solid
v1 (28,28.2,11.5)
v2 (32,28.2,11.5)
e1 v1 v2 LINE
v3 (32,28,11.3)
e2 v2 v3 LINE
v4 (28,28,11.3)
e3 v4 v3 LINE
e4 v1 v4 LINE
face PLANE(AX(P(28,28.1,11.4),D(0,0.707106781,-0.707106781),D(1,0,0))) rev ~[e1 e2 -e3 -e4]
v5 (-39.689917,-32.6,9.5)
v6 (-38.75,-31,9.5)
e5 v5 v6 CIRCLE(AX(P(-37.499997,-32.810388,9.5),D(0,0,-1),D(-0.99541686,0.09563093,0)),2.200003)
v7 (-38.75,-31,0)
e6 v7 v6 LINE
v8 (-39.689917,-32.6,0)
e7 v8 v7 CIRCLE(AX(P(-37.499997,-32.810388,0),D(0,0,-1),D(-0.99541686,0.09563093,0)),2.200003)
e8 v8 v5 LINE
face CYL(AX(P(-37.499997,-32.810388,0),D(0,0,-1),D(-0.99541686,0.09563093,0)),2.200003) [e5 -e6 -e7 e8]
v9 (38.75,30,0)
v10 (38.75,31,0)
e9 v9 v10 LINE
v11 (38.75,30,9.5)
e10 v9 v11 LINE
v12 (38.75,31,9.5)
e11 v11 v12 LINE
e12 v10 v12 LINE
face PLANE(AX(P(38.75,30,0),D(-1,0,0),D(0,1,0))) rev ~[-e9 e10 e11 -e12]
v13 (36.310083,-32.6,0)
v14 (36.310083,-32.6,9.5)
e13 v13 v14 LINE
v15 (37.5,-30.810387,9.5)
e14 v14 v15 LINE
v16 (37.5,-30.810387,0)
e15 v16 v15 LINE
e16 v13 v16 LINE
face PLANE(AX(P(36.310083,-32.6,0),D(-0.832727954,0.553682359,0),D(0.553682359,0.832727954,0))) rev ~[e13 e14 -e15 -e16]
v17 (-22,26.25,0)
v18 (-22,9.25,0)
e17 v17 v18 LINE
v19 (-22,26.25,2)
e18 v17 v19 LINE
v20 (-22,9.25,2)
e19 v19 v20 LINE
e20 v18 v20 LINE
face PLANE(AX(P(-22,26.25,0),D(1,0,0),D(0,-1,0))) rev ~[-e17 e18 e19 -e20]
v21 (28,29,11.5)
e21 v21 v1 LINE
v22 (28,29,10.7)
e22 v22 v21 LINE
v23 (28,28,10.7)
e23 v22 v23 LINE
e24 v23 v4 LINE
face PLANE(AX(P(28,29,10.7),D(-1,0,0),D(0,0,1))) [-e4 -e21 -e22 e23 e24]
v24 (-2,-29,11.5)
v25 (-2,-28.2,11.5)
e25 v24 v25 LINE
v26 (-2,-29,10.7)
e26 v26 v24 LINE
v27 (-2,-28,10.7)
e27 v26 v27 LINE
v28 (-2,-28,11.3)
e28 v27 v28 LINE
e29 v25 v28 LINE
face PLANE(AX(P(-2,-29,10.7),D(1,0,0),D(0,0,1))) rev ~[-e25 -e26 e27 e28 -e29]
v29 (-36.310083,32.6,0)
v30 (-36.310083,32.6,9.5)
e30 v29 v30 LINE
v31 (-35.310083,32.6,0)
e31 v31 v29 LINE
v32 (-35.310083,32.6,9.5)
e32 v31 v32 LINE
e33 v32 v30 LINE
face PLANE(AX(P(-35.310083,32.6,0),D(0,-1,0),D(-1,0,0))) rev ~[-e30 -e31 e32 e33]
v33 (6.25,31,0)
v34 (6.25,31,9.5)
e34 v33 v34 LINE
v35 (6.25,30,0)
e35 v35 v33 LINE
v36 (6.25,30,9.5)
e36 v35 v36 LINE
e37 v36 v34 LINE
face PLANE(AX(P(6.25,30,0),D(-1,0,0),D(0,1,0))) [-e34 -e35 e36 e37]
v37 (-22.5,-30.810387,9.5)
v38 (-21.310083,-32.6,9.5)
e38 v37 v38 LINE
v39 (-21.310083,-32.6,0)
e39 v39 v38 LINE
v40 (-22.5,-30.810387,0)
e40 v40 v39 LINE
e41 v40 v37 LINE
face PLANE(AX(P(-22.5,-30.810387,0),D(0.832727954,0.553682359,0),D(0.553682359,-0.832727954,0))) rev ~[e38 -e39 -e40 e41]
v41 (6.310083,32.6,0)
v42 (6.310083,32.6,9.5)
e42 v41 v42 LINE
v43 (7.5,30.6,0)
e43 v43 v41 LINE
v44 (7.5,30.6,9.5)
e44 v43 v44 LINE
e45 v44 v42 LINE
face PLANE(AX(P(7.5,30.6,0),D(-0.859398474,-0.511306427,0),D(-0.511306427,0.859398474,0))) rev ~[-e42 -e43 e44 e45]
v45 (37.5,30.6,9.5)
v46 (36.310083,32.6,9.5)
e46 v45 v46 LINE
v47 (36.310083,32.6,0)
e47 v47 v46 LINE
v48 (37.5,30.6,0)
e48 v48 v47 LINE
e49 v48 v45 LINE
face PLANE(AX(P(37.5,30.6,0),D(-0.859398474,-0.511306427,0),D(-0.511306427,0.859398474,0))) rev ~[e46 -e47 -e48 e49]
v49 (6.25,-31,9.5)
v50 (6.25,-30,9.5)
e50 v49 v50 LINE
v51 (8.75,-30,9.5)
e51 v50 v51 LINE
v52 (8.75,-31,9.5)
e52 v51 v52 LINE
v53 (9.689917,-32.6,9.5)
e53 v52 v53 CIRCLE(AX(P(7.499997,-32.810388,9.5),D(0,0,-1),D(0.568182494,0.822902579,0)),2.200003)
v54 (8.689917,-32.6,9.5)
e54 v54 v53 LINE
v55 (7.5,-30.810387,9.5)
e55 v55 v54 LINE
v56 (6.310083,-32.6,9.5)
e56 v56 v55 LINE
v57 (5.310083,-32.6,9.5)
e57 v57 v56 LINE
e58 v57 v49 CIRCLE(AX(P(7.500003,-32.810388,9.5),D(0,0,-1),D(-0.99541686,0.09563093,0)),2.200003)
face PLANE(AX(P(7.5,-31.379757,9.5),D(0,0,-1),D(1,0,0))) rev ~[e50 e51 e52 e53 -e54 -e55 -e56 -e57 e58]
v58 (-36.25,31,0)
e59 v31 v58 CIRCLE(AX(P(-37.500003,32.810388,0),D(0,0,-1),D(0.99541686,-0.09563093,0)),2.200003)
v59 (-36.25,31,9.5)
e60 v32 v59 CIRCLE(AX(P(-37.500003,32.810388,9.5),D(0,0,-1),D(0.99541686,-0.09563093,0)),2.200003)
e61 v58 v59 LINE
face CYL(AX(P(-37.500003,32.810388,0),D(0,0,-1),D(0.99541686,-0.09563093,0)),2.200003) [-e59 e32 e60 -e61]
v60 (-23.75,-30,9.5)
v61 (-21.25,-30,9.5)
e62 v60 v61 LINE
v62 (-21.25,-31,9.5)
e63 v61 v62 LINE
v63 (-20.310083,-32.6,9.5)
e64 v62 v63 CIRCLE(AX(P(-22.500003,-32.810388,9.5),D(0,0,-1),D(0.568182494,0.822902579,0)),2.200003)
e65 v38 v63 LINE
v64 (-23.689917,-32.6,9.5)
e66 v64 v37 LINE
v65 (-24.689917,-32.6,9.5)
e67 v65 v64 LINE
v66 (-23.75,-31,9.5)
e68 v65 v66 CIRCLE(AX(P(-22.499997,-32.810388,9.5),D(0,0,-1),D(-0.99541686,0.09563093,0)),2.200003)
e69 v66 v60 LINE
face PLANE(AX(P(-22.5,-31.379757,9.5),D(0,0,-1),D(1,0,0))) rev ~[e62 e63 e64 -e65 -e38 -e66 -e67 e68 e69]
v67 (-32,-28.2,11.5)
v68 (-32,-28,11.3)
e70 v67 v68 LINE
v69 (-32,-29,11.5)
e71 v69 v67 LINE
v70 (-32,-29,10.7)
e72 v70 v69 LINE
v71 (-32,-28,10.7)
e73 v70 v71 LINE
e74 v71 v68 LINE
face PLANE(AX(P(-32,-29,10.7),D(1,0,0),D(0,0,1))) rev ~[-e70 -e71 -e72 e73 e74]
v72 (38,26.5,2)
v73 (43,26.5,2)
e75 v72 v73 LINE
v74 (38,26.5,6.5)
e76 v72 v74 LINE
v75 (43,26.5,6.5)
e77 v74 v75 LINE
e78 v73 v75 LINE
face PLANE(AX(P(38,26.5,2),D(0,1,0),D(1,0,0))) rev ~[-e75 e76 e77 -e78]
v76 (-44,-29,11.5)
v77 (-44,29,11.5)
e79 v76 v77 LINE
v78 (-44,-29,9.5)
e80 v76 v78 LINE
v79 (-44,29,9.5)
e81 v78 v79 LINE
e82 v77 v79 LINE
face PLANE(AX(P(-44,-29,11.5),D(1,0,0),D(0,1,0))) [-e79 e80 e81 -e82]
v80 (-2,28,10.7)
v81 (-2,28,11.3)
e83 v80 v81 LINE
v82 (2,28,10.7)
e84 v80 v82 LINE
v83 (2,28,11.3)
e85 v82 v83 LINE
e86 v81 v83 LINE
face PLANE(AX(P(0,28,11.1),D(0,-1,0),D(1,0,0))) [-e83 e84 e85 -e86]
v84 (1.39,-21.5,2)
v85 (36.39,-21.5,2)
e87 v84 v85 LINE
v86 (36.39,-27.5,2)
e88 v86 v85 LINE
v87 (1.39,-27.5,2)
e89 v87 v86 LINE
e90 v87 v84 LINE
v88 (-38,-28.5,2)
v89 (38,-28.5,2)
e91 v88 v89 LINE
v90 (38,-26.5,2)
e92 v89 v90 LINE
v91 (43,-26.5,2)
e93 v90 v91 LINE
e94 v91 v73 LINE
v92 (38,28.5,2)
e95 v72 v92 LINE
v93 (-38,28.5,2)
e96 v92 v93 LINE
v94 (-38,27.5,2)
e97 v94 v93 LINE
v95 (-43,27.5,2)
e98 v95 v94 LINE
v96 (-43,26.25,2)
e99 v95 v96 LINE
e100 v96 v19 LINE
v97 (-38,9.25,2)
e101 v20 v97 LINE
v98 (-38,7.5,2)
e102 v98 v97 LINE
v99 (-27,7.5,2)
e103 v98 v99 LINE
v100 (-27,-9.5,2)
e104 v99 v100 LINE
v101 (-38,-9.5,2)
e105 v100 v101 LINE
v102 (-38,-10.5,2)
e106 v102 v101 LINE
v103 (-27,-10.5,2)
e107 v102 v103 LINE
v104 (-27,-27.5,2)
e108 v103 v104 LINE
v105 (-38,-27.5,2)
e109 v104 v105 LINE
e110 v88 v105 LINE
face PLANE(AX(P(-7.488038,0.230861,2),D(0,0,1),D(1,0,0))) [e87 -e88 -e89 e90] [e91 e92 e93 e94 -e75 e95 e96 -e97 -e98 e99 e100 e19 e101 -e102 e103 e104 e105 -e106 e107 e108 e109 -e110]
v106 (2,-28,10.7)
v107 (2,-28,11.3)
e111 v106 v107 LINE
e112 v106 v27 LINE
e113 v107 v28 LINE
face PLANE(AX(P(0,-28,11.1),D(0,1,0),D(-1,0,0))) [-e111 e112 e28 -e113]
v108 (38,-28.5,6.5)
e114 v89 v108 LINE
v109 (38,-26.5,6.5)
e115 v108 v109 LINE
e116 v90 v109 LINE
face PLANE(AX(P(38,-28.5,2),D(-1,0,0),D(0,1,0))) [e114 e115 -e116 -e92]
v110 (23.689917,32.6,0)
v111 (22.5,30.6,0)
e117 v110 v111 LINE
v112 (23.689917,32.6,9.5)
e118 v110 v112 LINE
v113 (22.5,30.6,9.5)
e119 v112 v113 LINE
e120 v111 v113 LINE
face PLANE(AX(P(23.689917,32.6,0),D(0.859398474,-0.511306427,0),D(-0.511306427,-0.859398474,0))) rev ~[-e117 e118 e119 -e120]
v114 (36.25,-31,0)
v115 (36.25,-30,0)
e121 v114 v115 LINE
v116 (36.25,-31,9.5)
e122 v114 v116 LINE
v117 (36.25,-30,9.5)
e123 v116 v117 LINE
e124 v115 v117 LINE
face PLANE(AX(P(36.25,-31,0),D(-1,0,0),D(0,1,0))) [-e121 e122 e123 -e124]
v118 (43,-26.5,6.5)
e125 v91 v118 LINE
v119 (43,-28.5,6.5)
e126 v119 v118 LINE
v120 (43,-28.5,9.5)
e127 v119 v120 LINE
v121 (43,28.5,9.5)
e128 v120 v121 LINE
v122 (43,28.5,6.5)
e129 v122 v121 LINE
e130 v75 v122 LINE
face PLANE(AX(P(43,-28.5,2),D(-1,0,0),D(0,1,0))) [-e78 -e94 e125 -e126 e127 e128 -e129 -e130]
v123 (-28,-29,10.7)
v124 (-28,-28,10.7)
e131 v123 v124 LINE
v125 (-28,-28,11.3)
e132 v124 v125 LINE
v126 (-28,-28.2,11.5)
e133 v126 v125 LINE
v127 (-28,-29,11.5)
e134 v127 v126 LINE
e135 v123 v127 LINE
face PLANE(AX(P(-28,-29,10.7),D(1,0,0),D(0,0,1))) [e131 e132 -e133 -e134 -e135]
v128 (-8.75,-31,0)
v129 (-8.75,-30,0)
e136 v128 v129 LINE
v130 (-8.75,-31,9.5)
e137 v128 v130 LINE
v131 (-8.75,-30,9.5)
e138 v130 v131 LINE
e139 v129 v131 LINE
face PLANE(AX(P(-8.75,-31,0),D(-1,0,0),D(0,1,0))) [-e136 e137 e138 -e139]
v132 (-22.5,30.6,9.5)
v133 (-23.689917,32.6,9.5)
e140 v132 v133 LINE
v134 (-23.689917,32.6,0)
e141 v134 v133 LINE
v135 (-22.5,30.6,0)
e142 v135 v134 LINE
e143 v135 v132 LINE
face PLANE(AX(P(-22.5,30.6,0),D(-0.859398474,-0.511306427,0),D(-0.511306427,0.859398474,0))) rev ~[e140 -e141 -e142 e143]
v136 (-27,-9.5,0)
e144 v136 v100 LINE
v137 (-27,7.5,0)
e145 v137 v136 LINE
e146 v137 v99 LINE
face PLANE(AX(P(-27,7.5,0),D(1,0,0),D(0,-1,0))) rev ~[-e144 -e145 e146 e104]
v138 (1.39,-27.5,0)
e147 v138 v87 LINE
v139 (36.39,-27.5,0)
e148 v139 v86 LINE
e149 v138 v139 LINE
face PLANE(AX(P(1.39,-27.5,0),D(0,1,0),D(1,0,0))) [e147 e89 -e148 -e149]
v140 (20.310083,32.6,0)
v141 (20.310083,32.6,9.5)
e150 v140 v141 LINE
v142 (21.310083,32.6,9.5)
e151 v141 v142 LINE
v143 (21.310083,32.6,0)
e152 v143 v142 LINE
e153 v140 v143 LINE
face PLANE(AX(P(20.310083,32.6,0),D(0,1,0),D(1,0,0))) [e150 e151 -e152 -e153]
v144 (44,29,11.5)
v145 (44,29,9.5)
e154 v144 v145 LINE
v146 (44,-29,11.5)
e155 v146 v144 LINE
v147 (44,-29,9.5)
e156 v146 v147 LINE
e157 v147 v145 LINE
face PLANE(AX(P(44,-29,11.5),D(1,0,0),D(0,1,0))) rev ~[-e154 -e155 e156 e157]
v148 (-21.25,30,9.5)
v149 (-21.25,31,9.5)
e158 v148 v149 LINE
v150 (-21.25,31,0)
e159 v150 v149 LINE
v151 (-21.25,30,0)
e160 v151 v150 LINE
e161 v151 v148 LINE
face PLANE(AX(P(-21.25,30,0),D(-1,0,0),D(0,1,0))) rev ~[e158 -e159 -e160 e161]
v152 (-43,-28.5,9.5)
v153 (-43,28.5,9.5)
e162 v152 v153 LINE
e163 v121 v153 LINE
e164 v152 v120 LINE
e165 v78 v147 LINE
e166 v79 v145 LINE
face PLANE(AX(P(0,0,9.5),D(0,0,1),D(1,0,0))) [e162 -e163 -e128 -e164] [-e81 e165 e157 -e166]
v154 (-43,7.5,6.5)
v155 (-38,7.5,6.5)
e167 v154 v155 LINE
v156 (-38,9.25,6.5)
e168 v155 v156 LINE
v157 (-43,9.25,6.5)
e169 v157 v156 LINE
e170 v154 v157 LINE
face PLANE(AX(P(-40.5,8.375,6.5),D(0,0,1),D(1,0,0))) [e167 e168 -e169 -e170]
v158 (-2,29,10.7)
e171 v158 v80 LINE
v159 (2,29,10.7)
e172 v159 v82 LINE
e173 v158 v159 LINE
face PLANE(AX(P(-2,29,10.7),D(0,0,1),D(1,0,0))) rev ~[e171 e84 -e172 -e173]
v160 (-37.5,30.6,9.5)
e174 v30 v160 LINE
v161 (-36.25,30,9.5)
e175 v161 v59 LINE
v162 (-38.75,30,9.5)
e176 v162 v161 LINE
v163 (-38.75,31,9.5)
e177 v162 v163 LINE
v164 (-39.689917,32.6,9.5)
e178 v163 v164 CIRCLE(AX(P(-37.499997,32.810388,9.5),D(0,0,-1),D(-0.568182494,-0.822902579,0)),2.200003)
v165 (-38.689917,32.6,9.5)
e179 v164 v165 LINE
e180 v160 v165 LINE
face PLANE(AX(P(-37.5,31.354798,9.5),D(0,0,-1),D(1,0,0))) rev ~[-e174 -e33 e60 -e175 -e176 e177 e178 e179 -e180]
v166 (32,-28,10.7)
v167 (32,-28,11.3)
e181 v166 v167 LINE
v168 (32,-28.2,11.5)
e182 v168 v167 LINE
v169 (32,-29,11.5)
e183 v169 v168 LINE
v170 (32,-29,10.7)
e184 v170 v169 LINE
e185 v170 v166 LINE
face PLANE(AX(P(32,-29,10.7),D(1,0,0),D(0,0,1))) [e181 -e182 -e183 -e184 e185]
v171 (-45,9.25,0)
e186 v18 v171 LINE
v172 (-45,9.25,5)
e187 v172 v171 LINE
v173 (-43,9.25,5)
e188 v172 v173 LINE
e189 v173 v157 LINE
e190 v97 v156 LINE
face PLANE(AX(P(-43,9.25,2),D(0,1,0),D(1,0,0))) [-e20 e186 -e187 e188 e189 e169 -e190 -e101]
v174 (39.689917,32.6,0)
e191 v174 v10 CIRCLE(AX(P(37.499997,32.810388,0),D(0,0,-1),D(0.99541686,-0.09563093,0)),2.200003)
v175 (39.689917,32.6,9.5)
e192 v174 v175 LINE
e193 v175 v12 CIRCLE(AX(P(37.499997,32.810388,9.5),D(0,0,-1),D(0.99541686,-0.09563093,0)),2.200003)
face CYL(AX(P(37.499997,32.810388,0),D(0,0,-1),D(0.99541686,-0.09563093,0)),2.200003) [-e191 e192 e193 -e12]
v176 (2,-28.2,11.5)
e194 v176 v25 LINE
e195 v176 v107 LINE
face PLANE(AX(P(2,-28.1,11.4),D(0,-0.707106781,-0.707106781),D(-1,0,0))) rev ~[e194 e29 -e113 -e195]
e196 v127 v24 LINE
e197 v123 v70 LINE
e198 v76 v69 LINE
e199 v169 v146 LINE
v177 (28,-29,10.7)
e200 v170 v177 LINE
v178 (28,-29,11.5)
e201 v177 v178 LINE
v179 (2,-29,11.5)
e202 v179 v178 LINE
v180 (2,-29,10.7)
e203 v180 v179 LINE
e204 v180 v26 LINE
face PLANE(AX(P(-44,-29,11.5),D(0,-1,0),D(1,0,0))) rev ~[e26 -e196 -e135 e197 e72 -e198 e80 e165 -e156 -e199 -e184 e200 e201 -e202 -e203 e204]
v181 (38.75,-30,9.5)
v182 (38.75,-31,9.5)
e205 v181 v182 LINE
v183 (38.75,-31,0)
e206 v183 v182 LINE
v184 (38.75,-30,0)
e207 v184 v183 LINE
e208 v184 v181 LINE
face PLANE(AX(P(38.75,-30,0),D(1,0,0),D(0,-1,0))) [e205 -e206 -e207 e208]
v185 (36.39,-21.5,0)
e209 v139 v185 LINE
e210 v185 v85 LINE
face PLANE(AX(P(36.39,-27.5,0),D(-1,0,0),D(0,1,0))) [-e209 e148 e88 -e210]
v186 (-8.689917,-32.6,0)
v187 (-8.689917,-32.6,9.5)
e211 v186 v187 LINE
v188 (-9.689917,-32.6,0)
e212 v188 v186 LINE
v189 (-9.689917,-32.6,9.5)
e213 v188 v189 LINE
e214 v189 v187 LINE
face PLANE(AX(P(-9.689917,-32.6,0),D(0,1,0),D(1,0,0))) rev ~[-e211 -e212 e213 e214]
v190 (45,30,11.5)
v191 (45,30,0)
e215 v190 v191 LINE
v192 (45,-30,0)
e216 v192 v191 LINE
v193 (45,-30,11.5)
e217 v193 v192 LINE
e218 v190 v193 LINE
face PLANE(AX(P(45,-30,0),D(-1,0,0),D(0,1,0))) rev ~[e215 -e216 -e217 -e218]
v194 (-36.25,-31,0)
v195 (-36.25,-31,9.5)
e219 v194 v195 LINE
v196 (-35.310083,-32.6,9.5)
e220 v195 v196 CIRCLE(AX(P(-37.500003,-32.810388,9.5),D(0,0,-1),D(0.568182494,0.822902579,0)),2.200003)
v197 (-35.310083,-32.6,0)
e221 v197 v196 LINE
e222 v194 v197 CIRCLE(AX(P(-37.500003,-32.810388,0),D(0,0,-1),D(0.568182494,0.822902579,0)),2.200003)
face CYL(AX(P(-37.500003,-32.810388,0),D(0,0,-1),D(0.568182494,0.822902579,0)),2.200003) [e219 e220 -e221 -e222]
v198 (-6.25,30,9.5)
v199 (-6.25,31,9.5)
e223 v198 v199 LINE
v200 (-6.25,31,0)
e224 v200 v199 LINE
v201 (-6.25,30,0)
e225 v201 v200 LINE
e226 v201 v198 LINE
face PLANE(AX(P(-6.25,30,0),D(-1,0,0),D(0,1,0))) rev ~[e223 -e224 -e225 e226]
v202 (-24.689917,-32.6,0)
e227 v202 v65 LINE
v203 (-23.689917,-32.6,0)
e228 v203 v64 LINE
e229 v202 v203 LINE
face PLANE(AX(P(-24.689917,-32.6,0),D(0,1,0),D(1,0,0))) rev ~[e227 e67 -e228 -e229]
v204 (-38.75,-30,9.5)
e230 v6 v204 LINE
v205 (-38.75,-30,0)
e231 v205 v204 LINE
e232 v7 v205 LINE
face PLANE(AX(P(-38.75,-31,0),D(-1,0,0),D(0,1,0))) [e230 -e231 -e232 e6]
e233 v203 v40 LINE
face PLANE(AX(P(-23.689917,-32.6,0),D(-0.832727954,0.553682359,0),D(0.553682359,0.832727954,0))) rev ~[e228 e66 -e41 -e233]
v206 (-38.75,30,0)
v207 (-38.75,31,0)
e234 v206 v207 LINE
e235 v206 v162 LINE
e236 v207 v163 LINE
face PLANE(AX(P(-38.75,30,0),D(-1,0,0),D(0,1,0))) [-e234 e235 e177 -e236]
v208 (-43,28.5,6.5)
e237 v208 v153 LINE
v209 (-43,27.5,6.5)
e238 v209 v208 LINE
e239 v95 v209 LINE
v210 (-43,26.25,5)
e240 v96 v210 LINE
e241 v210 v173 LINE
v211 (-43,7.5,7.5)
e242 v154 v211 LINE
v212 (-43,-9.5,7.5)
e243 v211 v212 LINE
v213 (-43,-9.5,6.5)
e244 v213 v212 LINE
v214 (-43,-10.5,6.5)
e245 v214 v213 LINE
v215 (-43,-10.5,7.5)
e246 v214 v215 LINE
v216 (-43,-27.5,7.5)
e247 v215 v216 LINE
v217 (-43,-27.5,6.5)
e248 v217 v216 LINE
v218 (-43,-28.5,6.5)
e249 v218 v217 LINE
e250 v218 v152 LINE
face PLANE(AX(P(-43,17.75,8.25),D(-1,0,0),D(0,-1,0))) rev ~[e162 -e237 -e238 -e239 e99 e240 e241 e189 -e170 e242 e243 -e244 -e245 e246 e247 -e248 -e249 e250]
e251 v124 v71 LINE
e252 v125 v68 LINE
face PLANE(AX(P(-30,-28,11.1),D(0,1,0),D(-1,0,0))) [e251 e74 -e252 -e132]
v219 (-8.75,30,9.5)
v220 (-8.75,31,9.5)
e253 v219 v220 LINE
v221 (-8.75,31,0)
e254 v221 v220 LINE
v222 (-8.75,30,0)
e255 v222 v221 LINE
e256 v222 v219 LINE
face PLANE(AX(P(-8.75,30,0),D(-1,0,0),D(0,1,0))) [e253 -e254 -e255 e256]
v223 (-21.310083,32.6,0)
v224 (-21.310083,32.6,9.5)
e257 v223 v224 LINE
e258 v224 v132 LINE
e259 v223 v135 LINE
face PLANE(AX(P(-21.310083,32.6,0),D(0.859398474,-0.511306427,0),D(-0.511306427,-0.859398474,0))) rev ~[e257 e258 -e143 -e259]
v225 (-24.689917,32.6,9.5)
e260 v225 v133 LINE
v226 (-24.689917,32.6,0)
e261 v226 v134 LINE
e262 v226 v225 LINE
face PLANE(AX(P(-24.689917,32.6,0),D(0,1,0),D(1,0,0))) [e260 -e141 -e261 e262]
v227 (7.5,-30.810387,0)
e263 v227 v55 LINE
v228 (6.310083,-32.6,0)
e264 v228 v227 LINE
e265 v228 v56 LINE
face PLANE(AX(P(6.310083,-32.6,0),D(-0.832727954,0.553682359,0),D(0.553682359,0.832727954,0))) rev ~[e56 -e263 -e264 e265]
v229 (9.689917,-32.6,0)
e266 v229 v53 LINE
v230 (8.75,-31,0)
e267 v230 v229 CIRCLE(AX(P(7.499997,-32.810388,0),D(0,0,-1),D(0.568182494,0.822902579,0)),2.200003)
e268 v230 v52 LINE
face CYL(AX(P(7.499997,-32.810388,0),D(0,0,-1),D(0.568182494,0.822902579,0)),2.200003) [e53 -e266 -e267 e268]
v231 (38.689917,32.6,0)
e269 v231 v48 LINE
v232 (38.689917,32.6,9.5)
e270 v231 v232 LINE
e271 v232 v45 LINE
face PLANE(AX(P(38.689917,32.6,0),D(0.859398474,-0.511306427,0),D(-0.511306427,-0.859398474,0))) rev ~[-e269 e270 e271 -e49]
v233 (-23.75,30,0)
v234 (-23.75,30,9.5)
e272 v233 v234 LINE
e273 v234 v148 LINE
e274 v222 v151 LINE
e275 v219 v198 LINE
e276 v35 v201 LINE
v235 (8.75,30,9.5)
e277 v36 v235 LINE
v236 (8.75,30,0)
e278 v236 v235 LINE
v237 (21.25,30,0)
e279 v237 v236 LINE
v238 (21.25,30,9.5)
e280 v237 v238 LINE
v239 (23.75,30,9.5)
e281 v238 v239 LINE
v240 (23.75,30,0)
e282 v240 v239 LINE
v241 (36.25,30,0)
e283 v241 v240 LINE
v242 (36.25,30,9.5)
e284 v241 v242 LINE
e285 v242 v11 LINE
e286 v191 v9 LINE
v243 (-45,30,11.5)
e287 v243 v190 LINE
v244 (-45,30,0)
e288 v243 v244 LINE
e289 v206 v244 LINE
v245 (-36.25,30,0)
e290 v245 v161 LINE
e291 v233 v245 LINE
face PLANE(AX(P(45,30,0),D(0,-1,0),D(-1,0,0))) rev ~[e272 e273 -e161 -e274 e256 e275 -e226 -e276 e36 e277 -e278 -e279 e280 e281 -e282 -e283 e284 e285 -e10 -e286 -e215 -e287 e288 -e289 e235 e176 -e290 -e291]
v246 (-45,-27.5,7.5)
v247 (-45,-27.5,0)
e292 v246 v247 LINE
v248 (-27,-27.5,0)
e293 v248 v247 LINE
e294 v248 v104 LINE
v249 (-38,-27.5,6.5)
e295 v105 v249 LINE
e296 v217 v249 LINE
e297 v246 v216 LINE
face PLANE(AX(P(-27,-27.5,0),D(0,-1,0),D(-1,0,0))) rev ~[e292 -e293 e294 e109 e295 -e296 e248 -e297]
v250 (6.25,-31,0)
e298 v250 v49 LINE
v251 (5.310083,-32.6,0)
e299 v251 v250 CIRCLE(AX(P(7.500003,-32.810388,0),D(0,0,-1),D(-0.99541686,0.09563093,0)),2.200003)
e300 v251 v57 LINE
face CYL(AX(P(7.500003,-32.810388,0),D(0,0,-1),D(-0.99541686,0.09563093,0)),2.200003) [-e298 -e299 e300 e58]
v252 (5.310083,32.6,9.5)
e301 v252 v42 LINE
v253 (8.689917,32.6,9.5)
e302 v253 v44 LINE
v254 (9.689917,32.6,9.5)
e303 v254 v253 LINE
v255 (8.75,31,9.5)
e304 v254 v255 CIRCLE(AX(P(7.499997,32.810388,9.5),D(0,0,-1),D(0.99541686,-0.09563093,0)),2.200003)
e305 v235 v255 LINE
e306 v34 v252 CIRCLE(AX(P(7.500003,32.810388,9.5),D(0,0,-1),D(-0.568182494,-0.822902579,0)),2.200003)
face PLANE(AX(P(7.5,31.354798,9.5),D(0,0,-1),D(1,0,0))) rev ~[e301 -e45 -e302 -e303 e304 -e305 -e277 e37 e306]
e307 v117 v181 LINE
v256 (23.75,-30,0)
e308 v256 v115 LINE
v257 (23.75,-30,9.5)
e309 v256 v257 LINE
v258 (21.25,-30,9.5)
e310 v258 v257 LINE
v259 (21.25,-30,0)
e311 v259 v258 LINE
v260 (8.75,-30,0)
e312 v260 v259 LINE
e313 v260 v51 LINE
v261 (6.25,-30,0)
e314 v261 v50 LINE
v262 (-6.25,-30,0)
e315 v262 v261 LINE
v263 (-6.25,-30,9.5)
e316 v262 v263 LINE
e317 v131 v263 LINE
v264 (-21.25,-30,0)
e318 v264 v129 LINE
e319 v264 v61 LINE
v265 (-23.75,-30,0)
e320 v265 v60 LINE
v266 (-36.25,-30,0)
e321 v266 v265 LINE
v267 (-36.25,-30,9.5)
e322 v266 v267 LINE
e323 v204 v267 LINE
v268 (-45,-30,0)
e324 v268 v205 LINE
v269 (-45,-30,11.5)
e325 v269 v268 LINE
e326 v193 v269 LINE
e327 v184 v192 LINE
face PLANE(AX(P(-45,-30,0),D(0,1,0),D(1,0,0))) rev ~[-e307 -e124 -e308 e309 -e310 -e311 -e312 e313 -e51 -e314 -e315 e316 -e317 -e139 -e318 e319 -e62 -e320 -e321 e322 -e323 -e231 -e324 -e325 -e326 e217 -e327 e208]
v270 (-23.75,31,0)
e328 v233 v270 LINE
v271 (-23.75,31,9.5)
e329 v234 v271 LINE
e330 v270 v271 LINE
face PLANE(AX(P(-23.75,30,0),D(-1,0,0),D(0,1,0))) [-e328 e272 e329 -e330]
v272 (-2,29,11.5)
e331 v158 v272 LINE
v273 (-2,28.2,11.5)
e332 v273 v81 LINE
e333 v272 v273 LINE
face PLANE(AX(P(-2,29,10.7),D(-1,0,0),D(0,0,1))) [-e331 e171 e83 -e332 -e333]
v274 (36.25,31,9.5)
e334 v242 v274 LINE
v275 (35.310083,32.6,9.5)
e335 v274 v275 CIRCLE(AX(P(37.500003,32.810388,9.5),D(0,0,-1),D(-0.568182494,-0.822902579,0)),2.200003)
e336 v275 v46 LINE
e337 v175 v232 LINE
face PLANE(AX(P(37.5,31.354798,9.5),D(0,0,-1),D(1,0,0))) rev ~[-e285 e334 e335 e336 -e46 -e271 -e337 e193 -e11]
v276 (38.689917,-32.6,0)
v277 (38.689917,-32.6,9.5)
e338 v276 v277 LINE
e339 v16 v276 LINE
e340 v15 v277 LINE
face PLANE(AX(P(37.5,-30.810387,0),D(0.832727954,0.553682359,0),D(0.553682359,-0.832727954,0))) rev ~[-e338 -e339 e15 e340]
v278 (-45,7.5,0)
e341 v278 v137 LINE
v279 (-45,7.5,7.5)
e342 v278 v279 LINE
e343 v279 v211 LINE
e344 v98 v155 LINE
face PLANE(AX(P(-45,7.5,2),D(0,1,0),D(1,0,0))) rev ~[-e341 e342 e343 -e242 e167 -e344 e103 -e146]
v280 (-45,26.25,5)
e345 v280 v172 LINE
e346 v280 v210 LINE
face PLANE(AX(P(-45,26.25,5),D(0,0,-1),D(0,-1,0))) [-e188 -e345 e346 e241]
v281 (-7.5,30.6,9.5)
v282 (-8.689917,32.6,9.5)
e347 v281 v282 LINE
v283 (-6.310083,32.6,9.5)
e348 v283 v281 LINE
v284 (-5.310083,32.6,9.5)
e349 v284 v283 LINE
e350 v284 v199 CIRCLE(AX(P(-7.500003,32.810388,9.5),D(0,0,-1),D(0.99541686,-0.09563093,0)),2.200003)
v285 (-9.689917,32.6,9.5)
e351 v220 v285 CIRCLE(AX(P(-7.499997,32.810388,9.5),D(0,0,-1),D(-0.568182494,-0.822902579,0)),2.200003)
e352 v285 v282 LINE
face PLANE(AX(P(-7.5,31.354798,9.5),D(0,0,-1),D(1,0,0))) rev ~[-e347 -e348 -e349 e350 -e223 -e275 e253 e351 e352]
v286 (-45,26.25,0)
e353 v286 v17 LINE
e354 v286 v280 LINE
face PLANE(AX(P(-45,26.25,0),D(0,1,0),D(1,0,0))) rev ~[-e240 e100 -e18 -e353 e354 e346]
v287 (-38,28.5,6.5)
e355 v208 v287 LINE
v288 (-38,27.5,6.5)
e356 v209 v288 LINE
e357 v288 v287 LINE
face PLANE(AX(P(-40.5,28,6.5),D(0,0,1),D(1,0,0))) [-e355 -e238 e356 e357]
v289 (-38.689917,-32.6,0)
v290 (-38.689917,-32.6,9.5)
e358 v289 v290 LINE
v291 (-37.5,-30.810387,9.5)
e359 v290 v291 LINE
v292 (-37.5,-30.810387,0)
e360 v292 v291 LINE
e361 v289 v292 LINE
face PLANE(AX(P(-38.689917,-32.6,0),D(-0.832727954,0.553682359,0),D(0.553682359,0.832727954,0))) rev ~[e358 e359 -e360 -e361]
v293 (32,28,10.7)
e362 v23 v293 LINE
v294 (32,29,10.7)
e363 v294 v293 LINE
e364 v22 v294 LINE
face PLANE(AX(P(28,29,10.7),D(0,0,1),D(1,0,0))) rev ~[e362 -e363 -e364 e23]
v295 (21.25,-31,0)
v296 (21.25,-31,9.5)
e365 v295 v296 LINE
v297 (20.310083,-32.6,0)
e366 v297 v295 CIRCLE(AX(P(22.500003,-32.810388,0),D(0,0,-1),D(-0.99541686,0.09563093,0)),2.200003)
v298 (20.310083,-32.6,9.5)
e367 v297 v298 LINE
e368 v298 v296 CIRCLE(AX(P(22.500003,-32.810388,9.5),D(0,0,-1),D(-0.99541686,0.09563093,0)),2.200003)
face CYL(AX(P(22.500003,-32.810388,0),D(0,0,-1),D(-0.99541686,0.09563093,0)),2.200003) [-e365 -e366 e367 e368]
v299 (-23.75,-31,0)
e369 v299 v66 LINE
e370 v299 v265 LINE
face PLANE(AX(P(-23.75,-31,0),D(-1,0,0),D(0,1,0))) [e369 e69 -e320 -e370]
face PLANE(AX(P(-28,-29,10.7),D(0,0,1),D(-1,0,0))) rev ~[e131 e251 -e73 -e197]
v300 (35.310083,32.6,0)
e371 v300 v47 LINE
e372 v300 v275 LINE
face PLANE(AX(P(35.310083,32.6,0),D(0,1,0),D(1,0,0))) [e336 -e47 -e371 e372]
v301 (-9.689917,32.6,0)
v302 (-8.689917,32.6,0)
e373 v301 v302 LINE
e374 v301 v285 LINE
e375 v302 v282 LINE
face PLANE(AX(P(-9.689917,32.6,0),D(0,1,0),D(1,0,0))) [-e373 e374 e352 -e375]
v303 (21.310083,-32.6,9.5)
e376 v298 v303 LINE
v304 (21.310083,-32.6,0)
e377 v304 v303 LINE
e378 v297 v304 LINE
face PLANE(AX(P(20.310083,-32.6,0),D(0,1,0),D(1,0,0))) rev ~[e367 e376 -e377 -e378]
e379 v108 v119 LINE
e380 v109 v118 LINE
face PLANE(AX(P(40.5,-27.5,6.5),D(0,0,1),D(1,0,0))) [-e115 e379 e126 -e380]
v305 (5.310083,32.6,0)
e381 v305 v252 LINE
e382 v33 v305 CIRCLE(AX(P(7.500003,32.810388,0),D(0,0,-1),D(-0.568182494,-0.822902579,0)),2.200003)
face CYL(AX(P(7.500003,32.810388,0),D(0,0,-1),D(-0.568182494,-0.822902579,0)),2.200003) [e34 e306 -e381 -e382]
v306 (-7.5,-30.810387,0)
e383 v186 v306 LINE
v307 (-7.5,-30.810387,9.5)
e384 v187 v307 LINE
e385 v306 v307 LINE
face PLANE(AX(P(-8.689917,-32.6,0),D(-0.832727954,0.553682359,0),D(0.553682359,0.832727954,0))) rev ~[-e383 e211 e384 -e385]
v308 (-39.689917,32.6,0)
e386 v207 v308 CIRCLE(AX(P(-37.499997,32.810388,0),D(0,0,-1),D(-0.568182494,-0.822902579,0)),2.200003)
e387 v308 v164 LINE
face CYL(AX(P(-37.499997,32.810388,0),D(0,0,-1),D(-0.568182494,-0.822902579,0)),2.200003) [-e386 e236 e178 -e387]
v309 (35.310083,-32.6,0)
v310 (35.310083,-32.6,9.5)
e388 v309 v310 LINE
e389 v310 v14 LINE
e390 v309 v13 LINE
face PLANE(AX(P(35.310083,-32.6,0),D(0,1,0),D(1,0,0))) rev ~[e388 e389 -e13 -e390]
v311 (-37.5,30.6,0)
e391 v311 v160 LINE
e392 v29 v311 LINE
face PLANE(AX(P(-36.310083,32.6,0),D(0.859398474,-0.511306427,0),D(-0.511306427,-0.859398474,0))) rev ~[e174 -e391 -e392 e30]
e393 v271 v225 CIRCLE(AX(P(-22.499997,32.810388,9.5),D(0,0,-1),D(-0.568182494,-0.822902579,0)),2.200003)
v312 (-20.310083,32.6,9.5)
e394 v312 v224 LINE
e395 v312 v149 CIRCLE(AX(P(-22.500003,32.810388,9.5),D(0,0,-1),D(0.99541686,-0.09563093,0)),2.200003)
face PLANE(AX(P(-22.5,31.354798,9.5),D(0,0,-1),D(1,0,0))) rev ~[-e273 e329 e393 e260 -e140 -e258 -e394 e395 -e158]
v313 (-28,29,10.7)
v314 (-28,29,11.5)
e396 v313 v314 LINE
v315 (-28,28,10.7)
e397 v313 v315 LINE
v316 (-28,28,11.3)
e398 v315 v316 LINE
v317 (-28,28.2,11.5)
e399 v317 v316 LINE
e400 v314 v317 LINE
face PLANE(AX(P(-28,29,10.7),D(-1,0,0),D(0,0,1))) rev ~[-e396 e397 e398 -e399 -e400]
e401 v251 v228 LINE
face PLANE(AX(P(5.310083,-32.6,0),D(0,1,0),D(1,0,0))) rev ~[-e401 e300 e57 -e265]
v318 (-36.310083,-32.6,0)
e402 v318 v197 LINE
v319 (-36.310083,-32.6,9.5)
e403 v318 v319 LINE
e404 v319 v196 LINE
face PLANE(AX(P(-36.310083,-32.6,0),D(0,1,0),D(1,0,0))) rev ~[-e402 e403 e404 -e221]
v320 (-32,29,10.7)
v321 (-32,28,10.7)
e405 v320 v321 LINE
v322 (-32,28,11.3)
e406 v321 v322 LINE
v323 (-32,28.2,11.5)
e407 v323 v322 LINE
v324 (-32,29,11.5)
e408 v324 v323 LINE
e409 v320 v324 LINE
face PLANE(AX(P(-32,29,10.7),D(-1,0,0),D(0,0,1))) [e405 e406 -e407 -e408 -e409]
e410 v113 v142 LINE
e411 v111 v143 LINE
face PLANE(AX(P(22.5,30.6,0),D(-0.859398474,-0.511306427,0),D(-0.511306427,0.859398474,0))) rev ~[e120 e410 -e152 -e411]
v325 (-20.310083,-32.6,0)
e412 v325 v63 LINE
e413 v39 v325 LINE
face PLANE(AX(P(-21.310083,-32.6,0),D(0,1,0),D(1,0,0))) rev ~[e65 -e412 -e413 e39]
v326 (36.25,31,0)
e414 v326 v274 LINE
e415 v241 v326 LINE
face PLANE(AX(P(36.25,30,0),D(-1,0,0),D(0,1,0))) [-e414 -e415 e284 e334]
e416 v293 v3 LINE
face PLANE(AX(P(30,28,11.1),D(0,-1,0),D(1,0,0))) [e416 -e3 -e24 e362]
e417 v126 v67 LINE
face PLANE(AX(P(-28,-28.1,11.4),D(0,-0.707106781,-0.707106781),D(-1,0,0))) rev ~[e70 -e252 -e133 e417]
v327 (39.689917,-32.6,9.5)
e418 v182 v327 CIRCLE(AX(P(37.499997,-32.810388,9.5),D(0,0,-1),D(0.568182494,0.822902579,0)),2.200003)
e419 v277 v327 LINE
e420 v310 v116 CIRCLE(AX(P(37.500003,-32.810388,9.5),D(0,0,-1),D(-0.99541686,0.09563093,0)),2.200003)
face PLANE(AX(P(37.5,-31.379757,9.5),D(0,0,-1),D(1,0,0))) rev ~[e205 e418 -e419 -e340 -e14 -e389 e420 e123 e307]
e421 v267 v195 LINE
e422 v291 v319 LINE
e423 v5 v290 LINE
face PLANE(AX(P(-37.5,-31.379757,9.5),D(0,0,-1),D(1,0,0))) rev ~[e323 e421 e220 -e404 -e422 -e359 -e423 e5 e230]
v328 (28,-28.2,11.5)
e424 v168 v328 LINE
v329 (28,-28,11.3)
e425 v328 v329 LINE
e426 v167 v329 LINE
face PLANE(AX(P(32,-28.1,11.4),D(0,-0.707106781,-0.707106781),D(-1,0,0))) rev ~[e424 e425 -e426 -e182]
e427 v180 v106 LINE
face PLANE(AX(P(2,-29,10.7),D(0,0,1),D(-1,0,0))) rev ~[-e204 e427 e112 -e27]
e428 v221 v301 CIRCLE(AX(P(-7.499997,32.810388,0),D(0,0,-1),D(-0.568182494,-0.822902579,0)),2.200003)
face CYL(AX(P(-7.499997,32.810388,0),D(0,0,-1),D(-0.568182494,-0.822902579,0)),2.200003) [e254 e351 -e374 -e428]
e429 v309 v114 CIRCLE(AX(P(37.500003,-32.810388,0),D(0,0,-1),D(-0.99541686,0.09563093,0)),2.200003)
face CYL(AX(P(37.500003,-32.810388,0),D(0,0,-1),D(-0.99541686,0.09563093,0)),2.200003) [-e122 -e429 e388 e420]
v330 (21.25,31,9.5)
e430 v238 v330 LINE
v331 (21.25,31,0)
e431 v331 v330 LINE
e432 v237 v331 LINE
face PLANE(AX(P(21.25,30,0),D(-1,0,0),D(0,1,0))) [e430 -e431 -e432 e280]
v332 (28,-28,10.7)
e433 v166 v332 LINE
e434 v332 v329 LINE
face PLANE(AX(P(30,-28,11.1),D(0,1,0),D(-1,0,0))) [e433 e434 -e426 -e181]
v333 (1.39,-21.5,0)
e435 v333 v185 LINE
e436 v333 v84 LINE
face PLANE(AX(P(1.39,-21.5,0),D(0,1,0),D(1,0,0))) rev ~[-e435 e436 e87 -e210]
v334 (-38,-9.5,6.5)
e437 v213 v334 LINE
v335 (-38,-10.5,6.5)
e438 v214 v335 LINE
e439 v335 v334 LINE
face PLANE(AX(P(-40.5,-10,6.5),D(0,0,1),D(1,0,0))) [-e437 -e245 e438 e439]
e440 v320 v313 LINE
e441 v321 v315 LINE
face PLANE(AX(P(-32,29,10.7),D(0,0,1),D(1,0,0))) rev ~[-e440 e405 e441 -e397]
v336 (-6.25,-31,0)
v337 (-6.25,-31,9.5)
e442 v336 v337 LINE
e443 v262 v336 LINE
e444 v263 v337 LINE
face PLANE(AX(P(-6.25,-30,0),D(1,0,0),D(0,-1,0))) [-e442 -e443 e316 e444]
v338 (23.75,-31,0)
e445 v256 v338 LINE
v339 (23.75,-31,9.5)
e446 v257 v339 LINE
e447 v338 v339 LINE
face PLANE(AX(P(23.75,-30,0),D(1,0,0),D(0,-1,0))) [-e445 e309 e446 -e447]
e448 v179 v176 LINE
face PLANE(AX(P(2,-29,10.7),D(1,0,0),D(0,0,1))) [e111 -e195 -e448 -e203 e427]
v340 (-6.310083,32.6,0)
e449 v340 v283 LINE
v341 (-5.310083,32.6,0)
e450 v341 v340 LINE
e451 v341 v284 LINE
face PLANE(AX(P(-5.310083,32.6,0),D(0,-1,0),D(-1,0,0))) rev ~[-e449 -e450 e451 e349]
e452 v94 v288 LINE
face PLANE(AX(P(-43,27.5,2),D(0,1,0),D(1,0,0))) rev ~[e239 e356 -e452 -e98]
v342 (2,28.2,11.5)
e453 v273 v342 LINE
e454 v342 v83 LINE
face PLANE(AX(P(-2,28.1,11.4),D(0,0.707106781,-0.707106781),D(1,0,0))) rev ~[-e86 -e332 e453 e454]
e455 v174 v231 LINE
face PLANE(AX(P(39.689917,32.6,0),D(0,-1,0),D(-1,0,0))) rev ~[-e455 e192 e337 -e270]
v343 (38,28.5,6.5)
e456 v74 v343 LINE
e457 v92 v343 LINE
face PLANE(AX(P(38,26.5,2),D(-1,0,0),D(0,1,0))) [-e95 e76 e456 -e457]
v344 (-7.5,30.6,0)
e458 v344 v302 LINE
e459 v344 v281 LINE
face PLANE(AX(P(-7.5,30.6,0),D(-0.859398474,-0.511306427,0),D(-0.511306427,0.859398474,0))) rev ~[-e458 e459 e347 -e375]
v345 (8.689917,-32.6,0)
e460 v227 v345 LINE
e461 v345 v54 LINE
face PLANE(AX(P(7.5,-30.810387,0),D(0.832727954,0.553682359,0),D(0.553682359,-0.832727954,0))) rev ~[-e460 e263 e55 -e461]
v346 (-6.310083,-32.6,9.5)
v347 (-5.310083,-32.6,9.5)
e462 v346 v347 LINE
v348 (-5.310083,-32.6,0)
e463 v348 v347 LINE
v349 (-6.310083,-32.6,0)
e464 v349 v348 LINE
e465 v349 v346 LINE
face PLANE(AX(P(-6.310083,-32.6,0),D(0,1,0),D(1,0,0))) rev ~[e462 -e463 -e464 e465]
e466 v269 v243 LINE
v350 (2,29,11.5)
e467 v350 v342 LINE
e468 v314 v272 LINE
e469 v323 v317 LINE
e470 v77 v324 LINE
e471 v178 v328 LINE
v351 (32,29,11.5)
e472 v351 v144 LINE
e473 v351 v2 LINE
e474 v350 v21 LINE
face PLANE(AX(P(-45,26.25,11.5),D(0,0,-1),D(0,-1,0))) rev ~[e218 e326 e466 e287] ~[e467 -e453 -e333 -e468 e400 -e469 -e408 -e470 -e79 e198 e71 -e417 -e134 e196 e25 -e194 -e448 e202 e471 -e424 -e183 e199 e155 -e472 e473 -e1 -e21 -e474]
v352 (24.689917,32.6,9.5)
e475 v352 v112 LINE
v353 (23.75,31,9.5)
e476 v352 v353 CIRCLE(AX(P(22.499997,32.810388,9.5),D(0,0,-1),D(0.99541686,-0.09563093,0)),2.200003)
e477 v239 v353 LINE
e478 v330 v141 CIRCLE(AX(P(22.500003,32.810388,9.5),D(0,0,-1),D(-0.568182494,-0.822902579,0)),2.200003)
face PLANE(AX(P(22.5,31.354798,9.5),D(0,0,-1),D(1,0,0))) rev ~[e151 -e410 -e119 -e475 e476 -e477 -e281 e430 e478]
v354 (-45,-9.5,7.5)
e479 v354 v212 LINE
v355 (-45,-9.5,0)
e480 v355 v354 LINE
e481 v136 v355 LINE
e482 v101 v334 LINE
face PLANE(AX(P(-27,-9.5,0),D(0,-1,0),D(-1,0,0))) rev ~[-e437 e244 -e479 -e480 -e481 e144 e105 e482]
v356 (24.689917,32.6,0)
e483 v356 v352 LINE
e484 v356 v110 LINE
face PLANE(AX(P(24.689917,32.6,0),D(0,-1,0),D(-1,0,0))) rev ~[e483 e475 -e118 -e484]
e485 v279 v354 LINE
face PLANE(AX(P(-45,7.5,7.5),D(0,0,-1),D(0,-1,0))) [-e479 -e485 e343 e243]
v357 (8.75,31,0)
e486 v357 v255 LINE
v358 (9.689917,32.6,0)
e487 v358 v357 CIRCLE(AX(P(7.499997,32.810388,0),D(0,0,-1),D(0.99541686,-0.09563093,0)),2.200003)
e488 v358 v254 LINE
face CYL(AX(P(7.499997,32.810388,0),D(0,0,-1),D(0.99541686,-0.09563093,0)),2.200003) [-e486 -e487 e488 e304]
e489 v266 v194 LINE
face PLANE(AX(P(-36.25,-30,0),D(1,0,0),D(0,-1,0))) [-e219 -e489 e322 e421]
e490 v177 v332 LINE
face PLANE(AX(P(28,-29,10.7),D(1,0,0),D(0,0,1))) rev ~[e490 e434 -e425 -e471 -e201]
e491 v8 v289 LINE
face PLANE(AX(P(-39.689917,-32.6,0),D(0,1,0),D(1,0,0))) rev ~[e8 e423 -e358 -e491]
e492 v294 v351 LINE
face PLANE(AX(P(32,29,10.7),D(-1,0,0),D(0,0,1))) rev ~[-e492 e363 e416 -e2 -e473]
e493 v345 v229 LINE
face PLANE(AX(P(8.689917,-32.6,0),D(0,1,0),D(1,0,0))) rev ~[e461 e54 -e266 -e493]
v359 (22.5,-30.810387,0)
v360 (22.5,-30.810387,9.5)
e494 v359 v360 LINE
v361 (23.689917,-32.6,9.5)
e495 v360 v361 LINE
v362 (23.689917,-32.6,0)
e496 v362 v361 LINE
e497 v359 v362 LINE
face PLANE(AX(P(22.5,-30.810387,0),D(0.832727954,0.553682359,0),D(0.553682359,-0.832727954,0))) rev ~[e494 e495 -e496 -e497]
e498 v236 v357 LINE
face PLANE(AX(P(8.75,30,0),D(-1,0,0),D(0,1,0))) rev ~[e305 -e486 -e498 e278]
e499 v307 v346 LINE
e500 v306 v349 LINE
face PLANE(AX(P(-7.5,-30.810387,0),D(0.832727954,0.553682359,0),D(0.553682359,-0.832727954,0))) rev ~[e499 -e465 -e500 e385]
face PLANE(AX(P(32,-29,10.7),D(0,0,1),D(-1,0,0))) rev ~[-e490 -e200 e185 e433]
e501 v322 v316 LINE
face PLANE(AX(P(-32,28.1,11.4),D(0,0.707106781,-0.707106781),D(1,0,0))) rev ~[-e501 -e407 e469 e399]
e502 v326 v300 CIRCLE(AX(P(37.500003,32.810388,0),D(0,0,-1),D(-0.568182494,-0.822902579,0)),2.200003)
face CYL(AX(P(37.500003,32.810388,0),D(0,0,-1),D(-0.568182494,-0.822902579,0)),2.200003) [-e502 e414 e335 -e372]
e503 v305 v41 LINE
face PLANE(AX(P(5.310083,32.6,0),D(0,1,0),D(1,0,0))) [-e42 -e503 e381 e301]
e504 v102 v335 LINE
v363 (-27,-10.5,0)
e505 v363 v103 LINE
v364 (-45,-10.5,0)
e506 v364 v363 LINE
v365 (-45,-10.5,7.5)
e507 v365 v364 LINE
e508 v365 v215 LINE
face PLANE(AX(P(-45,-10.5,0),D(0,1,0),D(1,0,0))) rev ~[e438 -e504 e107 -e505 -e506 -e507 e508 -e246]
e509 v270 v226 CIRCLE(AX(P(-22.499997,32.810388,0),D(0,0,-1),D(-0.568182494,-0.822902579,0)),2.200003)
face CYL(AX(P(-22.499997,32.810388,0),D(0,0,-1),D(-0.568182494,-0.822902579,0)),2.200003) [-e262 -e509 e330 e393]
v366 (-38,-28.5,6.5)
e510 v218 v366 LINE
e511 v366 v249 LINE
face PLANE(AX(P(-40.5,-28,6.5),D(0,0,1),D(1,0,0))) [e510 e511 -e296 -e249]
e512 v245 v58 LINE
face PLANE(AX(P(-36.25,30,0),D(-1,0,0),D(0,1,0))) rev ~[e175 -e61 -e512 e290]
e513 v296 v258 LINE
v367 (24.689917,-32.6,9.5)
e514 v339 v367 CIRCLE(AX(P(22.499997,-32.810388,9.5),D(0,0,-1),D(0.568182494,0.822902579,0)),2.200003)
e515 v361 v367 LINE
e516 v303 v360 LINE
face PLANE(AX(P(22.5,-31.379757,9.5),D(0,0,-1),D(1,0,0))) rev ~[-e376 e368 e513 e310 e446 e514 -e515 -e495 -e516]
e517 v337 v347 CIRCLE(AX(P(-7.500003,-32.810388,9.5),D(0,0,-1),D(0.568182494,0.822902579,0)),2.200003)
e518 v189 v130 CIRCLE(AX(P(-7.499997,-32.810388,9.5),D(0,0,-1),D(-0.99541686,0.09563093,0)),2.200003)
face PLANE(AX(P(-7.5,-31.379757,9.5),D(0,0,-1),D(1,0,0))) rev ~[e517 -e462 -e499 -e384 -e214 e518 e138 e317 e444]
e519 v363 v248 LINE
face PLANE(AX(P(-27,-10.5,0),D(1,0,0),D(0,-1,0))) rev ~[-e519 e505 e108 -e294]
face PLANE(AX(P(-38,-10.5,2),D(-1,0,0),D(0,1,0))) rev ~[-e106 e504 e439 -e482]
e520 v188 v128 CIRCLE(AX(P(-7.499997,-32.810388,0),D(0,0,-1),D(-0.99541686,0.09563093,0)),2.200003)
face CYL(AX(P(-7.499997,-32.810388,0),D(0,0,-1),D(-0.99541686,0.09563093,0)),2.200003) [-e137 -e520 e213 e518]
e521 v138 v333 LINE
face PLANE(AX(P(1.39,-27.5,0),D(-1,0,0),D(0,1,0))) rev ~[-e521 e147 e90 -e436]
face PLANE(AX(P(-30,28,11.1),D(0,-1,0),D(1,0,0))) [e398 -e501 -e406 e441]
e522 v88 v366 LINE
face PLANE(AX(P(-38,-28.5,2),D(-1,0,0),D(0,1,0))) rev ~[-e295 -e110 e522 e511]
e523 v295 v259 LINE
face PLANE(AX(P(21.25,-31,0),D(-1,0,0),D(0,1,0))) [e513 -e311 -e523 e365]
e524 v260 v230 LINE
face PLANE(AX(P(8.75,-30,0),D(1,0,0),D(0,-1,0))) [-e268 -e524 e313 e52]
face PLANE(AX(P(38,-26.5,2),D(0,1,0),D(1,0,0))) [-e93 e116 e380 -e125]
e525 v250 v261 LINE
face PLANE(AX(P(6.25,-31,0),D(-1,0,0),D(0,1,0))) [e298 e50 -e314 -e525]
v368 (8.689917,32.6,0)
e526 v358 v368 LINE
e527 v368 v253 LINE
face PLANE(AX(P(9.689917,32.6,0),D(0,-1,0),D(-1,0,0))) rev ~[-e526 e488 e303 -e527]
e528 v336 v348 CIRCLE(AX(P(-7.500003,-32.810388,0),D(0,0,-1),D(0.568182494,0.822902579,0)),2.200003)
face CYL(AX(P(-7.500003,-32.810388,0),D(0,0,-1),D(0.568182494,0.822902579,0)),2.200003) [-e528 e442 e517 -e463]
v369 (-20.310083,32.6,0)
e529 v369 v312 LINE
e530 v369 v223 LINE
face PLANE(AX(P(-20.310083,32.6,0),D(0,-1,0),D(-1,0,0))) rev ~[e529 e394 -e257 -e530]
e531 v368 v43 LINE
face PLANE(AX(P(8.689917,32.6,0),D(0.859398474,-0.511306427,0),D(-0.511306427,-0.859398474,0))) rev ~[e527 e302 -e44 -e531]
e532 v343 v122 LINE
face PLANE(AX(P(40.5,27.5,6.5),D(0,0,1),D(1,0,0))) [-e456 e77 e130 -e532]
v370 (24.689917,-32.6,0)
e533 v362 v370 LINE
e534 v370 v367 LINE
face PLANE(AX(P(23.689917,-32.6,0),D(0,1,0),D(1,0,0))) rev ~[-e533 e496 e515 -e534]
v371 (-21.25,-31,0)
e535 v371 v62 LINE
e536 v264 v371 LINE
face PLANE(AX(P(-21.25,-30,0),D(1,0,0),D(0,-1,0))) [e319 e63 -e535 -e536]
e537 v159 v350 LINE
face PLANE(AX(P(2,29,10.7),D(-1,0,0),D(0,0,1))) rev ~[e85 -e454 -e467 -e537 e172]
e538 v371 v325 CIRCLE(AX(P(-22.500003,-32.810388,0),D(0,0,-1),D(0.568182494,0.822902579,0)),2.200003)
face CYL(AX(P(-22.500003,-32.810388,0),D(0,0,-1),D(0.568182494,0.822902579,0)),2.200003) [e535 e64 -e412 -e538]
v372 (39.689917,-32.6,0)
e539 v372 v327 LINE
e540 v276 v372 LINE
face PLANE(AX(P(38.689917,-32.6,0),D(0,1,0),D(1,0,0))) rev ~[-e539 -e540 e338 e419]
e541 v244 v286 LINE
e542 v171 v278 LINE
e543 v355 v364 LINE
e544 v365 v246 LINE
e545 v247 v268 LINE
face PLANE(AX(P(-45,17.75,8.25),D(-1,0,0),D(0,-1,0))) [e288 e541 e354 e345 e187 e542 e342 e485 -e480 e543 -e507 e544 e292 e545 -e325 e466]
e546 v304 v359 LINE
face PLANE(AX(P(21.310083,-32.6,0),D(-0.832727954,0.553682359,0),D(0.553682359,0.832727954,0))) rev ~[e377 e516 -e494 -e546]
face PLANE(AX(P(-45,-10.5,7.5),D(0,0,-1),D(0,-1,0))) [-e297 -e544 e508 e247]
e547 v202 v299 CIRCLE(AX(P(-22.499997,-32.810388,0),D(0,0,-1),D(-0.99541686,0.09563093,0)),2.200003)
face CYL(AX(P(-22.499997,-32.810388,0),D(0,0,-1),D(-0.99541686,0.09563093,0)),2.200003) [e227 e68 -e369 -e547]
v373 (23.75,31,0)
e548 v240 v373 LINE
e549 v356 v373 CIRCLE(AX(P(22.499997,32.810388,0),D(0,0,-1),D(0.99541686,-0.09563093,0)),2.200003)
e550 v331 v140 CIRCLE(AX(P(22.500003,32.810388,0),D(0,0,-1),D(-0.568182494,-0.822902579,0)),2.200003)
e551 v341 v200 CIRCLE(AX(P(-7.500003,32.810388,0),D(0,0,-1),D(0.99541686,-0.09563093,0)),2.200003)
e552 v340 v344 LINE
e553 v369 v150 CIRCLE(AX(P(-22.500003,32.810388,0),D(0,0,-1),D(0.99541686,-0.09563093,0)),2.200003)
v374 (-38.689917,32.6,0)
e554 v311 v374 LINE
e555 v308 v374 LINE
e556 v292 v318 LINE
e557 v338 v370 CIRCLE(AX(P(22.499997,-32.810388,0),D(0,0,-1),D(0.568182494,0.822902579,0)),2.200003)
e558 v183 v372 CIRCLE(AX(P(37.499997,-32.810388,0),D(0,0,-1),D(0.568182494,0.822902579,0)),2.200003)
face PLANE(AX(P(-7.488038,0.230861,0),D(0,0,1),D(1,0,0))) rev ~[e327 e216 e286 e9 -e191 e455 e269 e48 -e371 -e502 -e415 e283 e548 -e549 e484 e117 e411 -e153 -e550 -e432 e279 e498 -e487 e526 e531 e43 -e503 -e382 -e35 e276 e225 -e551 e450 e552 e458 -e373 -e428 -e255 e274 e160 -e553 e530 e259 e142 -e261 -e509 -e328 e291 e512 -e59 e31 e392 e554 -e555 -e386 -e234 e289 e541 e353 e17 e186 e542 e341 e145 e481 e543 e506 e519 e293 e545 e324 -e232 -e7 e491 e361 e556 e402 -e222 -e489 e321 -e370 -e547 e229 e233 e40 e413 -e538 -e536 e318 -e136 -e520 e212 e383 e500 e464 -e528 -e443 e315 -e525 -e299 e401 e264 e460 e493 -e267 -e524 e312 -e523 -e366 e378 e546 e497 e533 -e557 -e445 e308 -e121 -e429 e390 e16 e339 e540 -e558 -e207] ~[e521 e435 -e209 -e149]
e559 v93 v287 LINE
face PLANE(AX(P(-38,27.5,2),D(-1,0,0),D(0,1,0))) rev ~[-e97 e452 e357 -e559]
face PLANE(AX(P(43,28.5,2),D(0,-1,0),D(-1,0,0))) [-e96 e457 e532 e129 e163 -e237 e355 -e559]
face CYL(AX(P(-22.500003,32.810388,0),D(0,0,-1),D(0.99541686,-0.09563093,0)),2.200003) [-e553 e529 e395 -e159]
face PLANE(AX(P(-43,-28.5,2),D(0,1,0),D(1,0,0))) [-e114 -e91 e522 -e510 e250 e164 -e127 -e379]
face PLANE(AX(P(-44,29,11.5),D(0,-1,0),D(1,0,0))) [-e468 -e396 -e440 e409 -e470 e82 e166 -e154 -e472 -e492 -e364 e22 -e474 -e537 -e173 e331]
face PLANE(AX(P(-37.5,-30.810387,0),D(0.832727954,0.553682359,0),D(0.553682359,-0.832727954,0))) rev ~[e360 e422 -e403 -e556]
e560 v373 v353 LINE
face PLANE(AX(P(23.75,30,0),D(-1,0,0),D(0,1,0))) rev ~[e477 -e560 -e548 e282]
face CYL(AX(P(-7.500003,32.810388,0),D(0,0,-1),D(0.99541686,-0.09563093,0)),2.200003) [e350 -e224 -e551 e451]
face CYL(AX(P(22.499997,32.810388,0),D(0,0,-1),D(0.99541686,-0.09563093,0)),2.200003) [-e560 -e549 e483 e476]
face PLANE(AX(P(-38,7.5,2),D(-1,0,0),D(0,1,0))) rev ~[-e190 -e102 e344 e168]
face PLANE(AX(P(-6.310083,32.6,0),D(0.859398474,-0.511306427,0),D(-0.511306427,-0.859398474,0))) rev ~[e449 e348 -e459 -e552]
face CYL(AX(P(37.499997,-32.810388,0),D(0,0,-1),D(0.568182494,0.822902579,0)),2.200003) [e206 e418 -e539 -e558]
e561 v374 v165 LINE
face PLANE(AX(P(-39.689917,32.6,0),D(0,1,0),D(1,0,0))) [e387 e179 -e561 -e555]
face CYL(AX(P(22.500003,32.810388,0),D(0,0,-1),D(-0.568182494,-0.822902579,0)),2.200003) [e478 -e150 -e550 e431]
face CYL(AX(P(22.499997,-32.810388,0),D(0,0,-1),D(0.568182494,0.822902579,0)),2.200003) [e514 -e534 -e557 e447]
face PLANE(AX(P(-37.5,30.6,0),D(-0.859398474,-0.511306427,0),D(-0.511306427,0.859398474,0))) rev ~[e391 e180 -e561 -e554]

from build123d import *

# Parameters (mm, degrees)
SKETCH_W            = 35
SKETCH_H            = 6
PAD_DEPTH           = 2
SKETCH001_W         = 2
SKETCH001_H         = 1.75
SKETCH001_H_2       = 1
PAD001_DEPTH        = 9.5
SKETCH002_W         = 17
SKETCH002_H         = 6.5
SKETCH002_H_2       = 4
PAD002_DEPTH        = 2
SKETCH003_W         = 5
SKETCH003_H         = 1
SKETCH003_H_2       = 1.75
SKETCH003_H_3       = 2
PAD003_DEPTH        = 4.5
SKETCH004_W         = 88
SKETCH004_H         = 58
POCKET_DEPTH        = 2
SKETCH005_W         = 4
SKETCH005_H         = 0.8
PAD004_DEPTH        = 1
SKETCH006_W         = 4
SKETCH006_H         = 0.8
PAD005_DEPTH        = 1
PAD006_DEPTH        = 9.5
LINEARPATTERN_COUNT = 6
LINEARPATTERN_PITCH = 15
CHAMFER_SIZE        = 0.2


with BuildPart() as part:
    # Sketch → Pad (new body)
    with BuildSketch(Plane.XY):
        Polygon((-45, 30), (-45, 26.25), (-22, 26.25), (-22, 9.25), (-45, 9.25), (-45, 7.5), (-27, 7.5), (-27, -9.5), (-45, -9.5), (-45, -10.5), (-27, -10.5), (-27, -27.5), (-45, -27.5), (-45, -30), (45, -30), (45, 30), align=None)
        with Locations((18.89, -24.5)):
            Rectangle(SKETCH_W, SKETCH_H, mode=Mode.SUBTRACT)
    extrude(amount=PAD_DEPTH)

    # Sketch001 → Pad001 (new body)
    with BuildSketch(Plane.XY.offset(2)):
        with Locations((-44, 8.375)):
            Rectangle(SKETCH001_W, SKETCH001_H)
        with Locations((-44, -10)):
            Rectangle(SKETCH001_W, SKETCH001_H_2)
        Polygon((-45, -27.5), (-43, -27.5), (-43, -28.5), (43, -28.5), (43, 28.5), (-43, 28.5), (-43, 26.25), (-45, 26.25), (-45, 30), (45, 30), (45, -30), (-45, -30), align=None)
    extrude(amount=PAD001_DEPTH)

    # Sketch002 → Pad002 (new body)
    with BuildSketch(Plane(origin=(-45, 0, 0), x_dir=(0, -1, 0), z_dir=(-1, 0, 0))):
        with Locations((-17.75, 8.25)):
            Rectangle(SKETCH002_W, SKETCH002_H)
        with Locations((1, 9.5)):
            Rectangle(SKETCH002_W, SKETCH002_H_2)
        with Locations((19, 9.5)):
            Rectangle(SKETCH002_W, SKETCH002_H_2)
    extrude(amount=-PAD002_DEPTH)

    # Sketch003 → Pad003 (new body)
    with BuildSketch(Plane.XY.offset(2)):
        with Locations((-40.5, 28)):
            Rectangle(SKETCH003_W, SKETCH003_H)
        with Locations((-40.5, 8.375)):
            Rectangle(SKETCH003_W, SKETCH003_H_2)
        with Locations((-40.5, -10)):
            Rectangle(SKETCH003_W, SKETCH003_H)
        with Locations((-40.5, -28)):
            Rectangle(SKETCH003_W, SKETCH003_H)
        with Locations((40.5, -27.5)):
            Rectangle(SKETCH003_W, SKETCH003_H_3)
        with Locations((40.5, 27.5)):
            Rectangle(SKETCH003_W, SKETCH003_H_3)
    extrude(amount=PAD003_DEPTH)

    # Sketch004 → Pocket (cut)
    with BuildSketch(Plane.XY.offset(11.5)):
        Rectangle(SKETCH004_W, SKETCH004_H)
    extrude(amount=-POCKET_DEPTH, mode=Mode.SUBTRACT)

    # Sketch005 → Pad004 (new body)
    with BuildSketch(Plane.XZ.offset(-29)):
        with Locations((-30, 11.1)):
            Rectangle(SKETCH005_W, SKETCH005_H)
        with Locations((0, 11.1)):
            Rectangle(SKETCH005_W, SKETCH005_H)
        with Locations((30, 11.1)):
            Rectangle(SKETCH005_W, SKETCH005_H)
    extrude(amount=PAD004_DEPTH)

    # Sketch006 → Pad005 (new body)
    with BuildSketch(Plane(origin=(0, -29, 0), x_dir=(-1, 0, 0), z_dir=(0, 1, 0))):
        with Locations((-30, 11.1)):
            Rectangle(SKETCH006_W, SKETCH006_H)
        with Locations((0, 11.1)):
            Rectangle(SKETCH006_W, SKETCH006_H)
        with Locations((30, 11.1)):
            Rectangle(SKETCH006_W, SKETCH006_H)
    extrude(amount=PAD005_DEPTH)

    # Sketch007 → Pad006 (new body)
    with BuildSketch(Plane(origin=(0, 0, 0), x_dir=(1, 0, 0), z_dir=(0, 0, -1))):
        with BuildLine():
            Line((36.25, 31), (36.25, 30))
            Line((36.25, 30), (38.75, 30))
            Line((38.75, 30), (38.75, 31))
            ThreePointArc((38.75, 31), (39.396907, 31.696052), (39.689917, 32.6))
            Line((38.689917, 32.6), (39.689917, 32.6))
            Line((37.5, 30.810387), (38.689917, 32.6))
            Line((36.310083, 32.6), (37.5, 30.810387))
            Line((35.310083, 32.6), (36.310083, 32.6))
            ThreePointArc((35.310083, 32.6), (35.603093, 31.696052), (36.25, 31))
        make_face()
        with BuildLine():
            Line((36.25, -30), (36.25, -31))
            ThreePointArc((36.25, -31), (35.603093, -31.696052), (35.310083, -32.6))
            Line((35.310083, -32.6), (36.310083, -32.6))
            Line((37.5, -30.6), (36.310083, -32.6))
            Line((38.689917, -32.6), (37.5, -30.6))
            Line((39.689917, -32.6), (38.689917, -32.6))
            ThreePointArc((39.689917, -32.6), (39.396907, -31.696052), (38.75, -31))
            Line((38.75, -30), (38.75, -31))
            Line((36.25, -30), (38.75, -30))
        make_face()
    pad006 = extrude(amount=-PAD006_DEPTH)

    # LinearPattern: Pad006 ×6
    with Locations(*[(-i * LINEARPATTERN_PITCH, 0, 0) for i in range(1, LINEARPATTERN_COUNT)]):
        add(pad006)

    # Chamfer
    chamfer_edges = [part.edges().sort_by_distance(p)[0] for p in [
        (0, 28, 11.5),
        (-30, 28, 11.5),
        (30, 28, 11.5),
        (-30, -28, 11.5),
        (0, -28, 11.5),
        (30, -28, 11.5),
    ]]
    chamfer(chamfer_edges, length=CHAMFER_SIZE)


solid = part.part
